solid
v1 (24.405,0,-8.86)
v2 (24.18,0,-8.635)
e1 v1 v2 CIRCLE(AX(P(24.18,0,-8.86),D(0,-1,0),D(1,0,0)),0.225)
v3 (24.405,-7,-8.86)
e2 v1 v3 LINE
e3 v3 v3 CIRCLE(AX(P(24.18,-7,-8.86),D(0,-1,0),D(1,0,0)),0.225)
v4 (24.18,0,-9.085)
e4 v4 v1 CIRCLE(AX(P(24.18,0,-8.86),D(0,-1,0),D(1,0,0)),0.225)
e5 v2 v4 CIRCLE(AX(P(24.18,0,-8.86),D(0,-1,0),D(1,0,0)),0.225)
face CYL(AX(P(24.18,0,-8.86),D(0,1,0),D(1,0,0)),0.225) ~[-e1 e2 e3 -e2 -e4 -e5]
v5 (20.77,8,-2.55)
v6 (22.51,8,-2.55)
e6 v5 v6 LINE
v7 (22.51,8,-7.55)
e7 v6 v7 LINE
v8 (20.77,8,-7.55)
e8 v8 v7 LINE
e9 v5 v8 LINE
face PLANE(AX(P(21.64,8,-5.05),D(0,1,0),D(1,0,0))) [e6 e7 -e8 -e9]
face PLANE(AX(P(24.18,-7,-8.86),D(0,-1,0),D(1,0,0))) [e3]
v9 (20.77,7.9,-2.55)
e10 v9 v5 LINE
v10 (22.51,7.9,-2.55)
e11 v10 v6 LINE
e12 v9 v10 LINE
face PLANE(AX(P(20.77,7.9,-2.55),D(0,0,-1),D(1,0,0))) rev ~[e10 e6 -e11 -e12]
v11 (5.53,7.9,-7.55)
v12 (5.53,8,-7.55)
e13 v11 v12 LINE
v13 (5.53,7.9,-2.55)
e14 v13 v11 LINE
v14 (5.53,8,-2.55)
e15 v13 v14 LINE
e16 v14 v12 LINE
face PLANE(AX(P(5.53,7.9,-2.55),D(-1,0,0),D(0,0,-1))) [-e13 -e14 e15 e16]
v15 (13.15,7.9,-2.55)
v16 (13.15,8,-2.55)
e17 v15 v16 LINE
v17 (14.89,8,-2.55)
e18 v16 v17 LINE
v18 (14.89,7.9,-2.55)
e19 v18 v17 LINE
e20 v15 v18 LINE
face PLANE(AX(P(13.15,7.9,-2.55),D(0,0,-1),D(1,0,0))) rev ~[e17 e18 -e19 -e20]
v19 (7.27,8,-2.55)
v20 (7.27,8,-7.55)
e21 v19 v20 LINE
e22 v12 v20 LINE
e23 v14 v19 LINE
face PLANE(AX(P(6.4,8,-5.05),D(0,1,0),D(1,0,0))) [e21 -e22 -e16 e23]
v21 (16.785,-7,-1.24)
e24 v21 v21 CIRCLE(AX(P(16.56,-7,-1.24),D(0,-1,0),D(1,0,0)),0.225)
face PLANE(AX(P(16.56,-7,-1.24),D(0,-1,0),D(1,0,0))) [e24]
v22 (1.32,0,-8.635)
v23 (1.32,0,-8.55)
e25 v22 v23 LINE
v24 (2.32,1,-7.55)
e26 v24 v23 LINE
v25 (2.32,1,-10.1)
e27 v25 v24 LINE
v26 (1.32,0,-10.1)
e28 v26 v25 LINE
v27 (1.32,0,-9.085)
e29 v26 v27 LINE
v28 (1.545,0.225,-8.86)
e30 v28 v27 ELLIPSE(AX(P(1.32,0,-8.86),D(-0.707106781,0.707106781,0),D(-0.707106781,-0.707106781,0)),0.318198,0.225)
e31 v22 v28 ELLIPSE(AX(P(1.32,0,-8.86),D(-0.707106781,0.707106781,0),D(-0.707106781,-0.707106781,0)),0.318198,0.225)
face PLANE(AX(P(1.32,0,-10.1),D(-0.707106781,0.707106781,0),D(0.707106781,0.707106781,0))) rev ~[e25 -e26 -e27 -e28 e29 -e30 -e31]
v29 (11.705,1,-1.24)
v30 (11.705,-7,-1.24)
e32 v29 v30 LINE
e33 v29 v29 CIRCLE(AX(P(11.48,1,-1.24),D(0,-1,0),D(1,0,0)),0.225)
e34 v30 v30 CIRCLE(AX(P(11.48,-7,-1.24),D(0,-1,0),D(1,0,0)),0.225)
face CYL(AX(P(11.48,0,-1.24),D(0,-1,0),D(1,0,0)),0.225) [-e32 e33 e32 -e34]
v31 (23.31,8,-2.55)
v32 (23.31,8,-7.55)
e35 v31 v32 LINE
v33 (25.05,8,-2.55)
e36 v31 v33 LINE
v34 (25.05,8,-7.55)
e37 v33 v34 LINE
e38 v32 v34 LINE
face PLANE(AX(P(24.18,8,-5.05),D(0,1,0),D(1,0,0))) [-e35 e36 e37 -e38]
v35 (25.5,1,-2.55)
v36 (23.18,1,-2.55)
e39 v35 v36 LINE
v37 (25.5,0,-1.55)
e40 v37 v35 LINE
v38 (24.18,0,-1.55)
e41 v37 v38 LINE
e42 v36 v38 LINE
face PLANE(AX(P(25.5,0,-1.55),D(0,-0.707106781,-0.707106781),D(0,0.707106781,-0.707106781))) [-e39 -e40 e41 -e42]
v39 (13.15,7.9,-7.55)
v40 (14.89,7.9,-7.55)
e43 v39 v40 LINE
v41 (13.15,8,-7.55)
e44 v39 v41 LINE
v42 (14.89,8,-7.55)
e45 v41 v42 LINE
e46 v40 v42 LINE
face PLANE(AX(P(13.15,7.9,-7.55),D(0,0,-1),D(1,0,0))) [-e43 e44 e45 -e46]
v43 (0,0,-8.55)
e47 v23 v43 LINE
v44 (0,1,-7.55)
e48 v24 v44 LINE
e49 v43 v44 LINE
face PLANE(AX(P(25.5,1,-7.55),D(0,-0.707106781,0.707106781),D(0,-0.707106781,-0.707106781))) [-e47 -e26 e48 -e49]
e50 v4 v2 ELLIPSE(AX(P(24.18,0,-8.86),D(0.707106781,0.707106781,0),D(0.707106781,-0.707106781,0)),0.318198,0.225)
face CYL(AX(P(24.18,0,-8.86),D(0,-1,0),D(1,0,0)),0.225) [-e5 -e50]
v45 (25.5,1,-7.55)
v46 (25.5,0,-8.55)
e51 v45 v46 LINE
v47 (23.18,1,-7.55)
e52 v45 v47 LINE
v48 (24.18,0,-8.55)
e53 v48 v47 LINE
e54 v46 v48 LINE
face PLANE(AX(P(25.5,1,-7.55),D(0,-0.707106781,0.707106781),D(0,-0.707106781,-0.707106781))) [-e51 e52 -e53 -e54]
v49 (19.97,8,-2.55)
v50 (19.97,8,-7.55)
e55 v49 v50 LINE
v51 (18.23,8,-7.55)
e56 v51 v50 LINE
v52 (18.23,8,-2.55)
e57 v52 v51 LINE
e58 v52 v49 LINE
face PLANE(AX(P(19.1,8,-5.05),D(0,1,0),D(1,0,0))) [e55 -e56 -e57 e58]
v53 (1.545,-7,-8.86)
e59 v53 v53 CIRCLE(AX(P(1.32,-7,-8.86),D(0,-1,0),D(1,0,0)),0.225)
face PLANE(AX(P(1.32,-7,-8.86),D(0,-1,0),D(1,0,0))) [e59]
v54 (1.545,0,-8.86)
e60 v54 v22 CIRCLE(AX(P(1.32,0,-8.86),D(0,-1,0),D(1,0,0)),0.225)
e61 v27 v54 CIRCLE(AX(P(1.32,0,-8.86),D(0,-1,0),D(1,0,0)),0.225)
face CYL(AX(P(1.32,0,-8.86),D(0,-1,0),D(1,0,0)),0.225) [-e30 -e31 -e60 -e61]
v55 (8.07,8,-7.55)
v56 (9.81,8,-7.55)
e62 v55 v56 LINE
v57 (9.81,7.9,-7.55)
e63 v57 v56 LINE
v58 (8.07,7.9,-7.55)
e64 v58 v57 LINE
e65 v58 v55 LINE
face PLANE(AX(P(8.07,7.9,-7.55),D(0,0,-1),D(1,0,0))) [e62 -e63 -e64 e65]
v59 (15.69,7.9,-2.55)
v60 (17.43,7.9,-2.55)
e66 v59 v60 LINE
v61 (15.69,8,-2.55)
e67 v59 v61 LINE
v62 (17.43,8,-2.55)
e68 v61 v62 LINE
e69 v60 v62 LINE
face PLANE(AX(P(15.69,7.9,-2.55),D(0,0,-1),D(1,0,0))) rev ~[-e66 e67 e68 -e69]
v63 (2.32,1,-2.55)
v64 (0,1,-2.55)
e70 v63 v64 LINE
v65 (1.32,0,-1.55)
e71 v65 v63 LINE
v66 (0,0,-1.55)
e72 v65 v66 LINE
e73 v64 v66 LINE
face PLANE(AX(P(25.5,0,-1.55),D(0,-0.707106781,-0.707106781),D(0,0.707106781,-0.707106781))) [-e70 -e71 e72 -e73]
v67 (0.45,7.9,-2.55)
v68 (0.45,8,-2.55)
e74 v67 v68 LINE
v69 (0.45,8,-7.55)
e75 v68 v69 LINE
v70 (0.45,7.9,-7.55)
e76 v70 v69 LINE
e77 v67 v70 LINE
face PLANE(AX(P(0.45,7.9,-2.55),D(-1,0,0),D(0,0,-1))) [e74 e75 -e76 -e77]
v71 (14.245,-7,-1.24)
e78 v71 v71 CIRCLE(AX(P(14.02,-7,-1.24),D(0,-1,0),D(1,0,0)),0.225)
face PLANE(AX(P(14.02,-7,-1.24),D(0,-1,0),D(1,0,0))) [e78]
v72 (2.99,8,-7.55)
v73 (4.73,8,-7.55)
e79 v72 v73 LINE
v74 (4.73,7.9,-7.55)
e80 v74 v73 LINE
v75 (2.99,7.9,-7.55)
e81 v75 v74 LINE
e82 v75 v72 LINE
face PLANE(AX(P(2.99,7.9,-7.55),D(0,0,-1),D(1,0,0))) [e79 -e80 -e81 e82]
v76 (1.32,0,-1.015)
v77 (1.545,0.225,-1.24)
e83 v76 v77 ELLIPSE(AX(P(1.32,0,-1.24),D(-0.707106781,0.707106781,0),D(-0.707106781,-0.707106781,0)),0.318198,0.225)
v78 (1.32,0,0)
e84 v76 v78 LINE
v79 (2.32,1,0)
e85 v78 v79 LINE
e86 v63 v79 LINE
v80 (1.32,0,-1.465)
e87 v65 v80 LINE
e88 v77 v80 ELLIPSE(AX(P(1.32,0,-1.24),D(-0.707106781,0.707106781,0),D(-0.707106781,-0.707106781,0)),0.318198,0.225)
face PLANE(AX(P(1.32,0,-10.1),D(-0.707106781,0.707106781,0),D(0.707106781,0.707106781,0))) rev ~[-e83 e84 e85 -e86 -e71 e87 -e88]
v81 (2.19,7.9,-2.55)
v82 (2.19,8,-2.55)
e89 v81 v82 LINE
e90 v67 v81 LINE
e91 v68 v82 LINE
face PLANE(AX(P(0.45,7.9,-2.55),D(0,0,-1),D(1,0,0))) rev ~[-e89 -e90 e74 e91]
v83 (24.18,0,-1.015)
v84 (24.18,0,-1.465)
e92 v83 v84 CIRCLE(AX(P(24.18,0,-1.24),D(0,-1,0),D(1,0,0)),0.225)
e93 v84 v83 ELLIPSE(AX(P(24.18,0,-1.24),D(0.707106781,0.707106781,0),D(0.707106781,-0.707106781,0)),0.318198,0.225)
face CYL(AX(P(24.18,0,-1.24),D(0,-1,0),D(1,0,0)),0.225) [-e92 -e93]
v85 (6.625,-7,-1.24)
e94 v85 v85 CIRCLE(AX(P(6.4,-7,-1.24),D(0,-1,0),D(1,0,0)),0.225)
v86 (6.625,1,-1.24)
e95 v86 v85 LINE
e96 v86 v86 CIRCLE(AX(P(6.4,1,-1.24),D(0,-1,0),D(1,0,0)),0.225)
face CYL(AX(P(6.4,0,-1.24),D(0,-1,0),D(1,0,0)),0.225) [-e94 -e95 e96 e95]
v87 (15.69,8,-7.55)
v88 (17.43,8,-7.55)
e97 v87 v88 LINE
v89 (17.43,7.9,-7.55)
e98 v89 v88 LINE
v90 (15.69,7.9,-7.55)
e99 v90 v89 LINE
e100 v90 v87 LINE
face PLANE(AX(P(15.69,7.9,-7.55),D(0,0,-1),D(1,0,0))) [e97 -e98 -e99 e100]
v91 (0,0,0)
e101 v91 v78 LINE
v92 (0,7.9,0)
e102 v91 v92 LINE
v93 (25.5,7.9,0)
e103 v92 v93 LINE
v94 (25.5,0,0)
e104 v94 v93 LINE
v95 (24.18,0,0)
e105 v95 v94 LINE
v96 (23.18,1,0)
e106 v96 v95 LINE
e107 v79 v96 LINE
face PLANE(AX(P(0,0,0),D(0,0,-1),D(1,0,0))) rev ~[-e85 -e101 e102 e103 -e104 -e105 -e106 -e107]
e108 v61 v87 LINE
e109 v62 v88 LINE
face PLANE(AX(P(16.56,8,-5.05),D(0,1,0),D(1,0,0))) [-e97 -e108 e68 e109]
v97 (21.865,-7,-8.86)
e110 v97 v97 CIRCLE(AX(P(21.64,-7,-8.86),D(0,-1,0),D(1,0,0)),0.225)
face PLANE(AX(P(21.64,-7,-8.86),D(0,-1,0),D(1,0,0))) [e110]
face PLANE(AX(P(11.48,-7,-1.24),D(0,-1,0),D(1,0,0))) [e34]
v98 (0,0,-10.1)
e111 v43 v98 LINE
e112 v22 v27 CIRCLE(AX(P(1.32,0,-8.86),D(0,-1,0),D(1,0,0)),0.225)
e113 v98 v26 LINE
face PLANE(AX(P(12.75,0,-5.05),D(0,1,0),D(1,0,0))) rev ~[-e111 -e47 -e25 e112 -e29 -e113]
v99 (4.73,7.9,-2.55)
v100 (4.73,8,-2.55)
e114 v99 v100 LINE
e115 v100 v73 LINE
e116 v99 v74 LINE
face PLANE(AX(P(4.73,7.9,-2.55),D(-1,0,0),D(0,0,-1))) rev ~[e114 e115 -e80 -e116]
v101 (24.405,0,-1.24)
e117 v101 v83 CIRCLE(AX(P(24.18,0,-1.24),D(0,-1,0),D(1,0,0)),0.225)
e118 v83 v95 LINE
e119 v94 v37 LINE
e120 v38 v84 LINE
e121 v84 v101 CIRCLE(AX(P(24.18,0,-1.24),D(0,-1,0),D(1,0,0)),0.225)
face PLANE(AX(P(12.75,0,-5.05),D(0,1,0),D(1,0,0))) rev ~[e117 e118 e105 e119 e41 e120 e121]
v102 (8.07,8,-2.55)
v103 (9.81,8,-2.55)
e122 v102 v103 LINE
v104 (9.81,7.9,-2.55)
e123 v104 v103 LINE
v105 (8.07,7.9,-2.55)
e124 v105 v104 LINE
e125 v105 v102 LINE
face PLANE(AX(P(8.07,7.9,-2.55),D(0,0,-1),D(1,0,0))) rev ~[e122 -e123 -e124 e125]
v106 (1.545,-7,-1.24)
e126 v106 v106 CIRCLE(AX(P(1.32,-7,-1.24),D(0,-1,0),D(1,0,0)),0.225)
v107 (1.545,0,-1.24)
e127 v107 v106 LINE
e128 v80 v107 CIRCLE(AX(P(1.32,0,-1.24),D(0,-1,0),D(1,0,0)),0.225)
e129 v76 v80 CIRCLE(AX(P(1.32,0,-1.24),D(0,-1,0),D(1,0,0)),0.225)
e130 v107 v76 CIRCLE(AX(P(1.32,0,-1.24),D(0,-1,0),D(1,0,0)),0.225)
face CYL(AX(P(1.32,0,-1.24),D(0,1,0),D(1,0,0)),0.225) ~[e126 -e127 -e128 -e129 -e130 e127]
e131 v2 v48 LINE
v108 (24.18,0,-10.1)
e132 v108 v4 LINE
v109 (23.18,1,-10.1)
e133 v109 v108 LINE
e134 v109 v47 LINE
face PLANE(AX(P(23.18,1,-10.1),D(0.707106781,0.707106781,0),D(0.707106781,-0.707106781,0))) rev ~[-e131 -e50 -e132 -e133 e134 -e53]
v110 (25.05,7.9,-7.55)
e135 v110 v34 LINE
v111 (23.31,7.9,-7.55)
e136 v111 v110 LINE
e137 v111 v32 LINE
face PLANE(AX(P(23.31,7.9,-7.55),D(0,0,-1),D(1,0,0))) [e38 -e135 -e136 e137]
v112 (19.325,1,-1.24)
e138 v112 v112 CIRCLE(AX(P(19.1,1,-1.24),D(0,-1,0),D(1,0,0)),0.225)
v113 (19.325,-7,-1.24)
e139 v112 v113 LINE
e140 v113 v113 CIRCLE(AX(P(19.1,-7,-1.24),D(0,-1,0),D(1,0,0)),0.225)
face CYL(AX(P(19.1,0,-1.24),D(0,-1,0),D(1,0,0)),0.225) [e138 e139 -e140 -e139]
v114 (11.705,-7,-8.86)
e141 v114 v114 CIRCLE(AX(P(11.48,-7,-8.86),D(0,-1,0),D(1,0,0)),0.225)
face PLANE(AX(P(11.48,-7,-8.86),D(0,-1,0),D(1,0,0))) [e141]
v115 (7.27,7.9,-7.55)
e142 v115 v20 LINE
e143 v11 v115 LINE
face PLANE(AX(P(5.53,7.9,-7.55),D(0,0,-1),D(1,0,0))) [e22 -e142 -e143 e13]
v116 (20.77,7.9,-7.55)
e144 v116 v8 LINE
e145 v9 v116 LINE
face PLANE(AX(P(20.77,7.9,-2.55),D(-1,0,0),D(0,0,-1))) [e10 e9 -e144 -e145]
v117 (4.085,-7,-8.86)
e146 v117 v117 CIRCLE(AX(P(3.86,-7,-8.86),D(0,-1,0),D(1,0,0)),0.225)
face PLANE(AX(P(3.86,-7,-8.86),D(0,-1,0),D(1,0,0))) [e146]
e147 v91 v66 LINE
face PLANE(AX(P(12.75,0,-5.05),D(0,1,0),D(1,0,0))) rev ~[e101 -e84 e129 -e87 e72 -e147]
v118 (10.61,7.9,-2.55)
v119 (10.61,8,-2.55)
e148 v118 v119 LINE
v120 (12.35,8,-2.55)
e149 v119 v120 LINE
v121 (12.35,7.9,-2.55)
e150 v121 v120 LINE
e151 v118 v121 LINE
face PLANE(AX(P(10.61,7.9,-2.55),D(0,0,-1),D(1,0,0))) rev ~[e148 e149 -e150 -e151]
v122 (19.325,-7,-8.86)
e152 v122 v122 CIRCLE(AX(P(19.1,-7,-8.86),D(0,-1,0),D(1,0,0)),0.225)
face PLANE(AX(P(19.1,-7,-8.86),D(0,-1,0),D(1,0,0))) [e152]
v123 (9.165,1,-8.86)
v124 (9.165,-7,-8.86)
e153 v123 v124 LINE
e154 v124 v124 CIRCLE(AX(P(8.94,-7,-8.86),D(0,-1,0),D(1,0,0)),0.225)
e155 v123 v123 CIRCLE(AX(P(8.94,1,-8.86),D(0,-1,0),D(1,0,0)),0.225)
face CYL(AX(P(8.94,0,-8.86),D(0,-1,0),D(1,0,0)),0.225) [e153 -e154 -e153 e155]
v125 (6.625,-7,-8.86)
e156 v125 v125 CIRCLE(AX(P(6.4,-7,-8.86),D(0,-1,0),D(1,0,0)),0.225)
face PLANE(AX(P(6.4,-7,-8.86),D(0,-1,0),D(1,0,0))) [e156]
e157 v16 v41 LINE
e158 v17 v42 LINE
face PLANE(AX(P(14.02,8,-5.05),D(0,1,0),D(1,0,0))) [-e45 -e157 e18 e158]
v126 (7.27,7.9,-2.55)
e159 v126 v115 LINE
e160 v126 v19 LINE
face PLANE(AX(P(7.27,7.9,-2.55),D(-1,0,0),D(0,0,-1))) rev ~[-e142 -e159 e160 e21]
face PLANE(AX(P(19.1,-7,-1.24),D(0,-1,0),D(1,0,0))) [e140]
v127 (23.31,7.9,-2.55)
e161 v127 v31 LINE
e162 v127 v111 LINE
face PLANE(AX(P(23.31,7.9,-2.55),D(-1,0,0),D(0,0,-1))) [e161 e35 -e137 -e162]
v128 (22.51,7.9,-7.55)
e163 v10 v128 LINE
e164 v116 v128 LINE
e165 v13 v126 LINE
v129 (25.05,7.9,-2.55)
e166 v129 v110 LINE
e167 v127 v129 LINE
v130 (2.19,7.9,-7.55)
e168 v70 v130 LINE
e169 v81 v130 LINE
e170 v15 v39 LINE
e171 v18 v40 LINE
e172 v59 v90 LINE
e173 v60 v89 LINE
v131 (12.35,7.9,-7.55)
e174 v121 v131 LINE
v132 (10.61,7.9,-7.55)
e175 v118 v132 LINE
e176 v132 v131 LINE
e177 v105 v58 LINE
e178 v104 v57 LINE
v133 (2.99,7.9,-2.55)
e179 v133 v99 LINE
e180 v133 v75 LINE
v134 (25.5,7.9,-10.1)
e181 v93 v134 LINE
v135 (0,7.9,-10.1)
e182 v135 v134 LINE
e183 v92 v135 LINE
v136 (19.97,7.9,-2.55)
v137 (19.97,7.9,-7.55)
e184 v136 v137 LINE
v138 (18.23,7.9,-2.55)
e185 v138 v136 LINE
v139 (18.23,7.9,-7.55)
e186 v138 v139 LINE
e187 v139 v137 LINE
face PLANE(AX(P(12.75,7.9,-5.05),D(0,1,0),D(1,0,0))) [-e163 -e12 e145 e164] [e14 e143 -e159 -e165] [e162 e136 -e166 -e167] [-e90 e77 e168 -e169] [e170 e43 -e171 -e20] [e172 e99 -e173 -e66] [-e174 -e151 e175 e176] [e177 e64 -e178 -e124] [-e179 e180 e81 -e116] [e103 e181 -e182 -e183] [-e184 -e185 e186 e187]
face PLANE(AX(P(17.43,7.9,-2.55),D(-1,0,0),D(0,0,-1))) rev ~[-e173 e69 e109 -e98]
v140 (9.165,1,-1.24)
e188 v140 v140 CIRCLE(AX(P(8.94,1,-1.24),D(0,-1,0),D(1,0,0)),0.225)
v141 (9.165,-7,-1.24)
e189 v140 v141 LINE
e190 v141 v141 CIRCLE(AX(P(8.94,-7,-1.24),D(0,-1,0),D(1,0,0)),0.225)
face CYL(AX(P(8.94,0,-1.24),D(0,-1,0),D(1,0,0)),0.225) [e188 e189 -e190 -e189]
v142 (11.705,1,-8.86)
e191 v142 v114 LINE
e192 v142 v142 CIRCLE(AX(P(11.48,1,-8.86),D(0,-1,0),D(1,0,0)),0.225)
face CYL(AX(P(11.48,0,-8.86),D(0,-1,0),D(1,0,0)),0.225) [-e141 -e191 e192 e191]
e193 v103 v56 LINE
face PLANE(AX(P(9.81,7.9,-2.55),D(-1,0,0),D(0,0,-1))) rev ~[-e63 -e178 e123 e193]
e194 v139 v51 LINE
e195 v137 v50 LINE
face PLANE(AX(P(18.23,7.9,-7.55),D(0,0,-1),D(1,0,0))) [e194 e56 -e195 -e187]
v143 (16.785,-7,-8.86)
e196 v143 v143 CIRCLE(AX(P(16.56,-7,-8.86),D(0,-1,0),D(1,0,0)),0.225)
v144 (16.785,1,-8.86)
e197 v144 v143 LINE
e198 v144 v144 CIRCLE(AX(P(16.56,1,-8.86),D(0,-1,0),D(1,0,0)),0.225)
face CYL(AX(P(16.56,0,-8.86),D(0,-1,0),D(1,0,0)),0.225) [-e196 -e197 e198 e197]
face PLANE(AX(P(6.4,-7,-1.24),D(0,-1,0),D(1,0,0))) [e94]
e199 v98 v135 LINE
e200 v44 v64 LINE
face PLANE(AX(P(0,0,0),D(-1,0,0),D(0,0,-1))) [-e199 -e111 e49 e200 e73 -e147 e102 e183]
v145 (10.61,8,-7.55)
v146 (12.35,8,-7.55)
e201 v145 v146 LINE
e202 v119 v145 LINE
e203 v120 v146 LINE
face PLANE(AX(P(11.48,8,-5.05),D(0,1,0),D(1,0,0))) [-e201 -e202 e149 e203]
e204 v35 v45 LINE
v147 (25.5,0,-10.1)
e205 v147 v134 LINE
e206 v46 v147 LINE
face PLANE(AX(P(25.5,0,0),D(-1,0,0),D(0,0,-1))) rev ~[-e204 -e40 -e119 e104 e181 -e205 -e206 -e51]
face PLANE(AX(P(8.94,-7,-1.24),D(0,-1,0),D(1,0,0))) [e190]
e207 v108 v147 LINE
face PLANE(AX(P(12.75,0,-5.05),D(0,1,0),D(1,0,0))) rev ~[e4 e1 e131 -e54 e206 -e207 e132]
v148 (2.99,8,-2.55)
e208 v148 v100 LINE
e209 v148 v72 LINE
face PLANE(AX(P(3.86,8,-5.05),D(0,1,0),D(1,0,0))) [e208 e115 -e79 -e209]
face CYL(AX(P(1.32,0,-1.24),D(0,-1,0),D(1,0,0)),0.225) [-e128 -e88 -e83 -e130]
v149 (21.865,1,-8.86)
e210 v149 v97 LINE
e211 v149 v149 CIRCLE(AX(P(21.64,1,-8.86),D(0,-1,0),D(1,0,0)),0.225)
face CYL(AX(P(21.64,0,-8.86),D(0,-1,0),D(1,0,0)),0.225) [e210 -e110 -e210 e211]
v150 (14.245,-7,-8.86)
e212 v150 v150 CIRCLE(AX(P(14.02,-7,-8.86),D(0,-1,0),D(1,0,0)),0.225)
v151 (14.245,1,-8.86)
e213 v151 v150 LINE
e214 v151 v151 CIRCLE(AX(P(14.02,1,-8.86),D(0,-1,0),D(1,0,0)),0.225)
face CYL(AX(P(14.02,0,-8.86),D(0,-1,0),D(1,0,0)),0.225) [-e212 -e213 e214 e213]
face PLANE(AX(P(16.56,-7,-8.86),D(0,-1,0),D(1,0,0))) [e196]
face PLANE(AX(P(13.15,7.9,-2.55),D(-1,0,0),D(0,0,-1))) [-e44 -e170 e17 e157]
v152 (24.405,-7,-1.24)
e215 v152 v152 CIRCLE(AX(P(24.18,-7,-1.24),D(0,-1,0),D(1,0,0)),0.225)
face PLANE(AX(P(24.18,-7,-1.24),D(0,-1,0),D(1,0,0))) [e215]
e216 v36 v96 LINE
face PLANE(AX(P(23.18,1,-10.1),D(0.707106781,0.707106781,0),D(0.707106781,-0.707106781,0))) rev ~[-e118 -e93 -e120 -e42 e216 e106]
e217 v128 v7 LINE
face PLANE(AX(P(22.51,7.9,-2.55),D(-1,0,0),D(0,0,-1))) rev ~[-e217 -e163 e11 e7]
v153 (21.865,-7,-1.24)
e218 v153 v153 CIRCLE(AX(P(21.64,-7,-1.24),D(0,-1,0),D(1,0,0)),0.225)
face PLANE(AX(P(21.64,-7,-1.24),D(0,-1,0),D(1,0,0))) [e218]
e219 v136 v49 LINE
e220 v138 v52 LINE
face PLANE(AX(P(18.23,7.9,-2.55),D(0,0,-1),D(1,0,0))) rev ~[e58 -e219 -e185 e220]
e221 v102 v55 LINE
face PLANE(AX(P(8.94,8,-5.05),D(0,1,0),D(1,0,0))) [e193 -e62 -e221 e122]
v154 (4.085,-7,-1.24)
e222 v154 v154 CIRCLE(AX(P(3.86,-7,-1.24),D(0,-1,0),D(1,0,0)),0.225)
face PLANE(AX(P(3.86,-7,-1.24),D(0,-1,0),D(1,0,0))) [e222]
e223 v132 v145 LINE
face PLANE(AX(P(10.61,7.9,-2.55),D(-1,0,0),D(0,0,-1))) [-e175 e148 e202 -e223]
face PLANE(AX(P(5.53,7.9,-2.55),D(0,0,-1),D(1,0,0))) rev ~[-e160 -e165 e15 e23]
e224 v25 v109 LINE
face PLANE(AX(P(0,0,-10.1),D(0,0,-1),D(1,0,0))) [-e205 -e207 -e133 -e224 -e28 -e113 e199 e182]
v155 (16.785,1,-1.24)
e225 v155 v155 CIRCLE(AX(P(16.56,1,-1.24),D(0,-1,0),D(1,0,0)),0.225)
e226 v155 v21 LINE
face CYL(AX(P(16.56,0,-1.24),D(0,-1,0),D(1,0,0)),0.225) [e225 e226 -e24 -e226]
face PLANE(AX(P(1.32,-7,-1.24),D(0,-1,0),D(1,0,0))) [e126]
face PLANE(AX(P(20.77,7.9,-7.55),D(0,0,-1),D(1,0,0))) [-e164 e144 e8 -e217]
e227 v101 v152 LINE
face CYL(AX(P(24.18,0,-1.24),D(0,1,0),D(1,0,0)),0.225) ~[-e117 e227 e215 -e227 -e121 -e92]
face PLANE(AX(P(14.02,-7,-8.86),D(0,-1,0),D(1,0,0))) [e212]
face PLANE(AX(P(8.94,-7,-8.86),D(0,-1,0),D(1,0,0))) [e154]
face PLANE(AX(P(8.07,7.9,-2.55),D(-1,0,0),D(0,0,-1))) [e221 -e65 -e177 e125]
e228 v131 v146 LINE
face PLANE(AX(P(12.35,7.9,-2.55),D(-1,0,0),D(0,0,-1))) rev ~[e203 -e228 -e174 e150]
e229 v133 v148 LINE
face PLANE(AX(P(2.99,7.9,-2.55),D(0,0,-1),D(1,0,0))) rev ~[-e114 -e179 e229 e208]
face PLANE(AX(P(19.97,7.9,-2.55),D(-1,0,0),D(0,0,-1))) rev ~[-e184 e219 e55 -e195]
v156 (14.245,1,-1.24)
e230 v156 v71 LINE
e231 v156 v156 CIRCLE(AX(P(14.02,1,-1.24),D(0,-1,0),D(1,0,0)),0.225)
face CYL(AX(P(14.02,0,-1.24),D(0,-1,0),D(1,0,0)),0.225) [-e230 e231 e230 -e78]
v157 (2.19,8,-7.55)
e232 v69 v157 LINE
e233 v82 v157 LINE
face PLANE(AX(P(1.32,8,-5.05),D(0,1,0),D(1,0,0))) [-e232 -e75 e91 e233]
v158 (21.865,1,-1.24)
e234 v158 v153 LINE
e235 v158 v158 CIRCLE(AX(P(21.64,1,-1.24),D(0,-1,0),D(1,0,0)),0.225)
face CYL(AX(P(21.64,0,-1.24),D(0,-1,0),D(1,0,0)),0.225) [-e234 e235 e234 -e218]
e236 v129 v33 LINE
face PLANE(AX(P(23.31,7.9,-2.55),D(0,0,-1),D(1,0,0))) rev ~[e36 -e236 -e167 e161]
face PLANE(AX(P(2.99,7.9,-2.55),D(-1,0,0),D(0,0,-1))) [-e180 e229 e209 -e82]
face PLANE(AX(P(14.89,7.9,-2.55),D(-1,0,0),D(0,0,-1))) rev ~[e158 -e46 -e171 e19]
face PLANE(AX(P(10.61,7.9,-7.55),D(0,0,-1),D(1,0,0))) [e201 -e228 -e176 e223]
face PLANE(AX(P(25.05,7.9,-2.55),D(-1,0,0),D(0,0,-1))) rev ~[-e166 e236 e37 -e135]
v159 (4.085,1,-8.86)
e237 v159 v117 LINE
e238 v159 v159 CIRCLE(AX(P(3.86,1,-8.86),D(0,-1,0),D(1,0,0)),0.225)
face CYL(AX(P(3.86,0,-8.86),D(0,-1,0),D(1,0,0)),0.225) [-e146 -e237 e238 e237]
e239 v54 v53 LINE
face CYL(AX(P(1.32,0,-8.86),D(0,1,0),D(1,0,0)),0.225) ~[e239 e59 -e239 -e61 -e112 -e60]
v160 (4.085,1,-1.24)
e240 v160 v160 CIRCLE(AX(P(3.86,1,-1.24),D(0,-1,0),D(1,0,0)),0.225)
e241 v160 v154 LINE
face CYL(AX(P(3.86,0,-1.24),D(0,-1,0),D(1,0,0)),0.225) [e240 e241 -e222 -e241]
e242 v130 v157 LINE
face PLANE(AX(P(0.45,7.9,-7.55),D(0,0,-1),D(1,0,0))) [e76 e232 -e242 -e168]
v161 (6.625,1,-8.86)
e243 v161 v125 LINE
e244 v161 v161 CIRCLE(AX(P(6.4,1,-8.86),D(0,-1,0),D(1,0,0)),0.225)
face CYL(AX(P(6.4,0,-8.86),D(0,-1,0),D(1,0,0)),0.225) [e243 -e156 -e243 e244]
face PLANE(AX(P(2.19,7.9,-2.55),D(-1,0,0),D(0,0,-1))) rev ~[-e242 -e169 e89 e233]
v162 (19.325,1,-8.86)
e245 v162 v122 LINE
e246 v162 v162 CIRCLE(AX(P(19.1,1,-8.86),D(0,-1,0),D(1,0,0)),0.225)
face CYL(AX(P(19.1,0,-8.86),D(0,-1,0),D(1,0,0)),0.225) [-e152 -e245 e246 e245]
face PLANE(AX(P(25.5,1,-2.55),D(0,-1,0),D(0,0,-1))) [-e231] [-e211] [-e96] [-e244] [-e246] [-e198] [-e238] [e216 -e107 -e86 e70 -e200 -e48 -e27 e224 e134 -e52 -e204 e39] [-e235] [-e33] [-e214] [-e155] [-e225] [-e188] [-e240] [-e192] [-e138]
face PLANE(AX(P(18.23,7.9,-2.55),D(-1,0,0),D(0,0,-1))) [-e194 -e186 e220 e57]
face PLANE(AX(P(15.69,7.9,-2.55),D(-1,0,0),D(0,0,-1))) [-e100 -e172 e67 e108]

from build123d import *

# Parameters (mm, degrees)
CROQUIS2_W                          = 25.5
CROQUIS2_H                          = 10.1
SALIENTE_EXTRUIR2_DEPTH             = 7.9
CORTAR_EXTRUIR1_DEPTH               = 26.5
CROQUIS4_W                          = 1.74
CROQUIS4_H                          = 5
SALIENTE_EXTRUIR3_DEPTH             = 0.1
CORTAR_EXTRUIR2_DEPTH               = 11.1
CROQUIS7_R                          = 0.225
SALIENTE_EXTRUIR4_DEPTH             = 7
SALIENTE_EXTRUIR4_DIRECTION_2_REACH = 10


with BuildPart() as part:
    # Croquis2 → Saliente-Extruir2 (new body)
    with BuildSketch(Plane(origin=(0, 0, 0), x_dir=(1, 0, 0), z_dir=(0, 1, 0))):
        with Locations((12.75, 5.05)):
            Rectangle(CROQUIS2_W, CROQUIS2_H)
    extrude(amount=SALIENTE_EXTRUIR2_DEPTH)

    # Croquis3 → Cortar-Extruir1 (cut, through all)
    with BuildSketch(Plane(origin=(25.5, 0, 0), x_dir=(0, 0, -1), z_dir=(1, 0, 0))):
        Polygon((1.55, 0), (2.55, 1), (7.55, 1), (8.55, 0), align=None)
    extrude(amount=-CORTAR_EXTRUIR1_DEPTH, mode=Mode.SUBTRACT)

    # Croquis4 → Saliente-Extruir3 (add)
    with BuildSketch(Plane(origin=(0, 7.9, 0), x_dir=(1, 0, 0), z_dir=(0, 1, 0))):
        with Locations((1.32, 5.05)):
            Rectangle(CROQUIS4_W, CROQUIS4_H)
        with Locations((3.86, 5.05)):
            Rectangle(CROQUIS4_W, CROQUIS4_H)
        with Locations((6.4, 5.05)):
            Rectangle(CROQUIS4_W, CROQUIS4_H)
        with Locations((8.94, 5.05)):
            Rectangle(CROQUIS4_W, CROQUIS4_H)
        with Locations((11.48, 5.05)):
            Rectangle(CROQUIS4_W, CROQUIS4_H)
        with Locations((14.02, 5.05)):
            Rectangle(CROQUIS4_W, CROQUIS4_H)
        with Locations((16.56, 5.05)):
            Rectangle(CROQUIS4_W, CROQUIS4_H)
        with Locations((19.1, 5.05)):
            Rectangle(CROQUIS4_W, CROQUIS4_H)
        with Locations((21.64, 5.05)):
            Rectangle(CROQUIS4_W, CROQUIS4_H)
        with Locations((24.18, 5.05)):
            Rectangle(CROQUIS4_W, CROQUIS4_H)
    extrude(amount=SALIENTE_EXTRUIR3_DEPTH)

    # Croquis6 → Cortar-Extruir2 (cut, through all)
    with BuildSketch(Plane(origin=(0, 0, -10.1), x_dir=(-1, 0, 0), z_dir=(0, 0, -1))):
        Polygon((-23.18, 1), (-24.18, 0), (-1.32, 0), (-2.32, 1), align=None)
    extrude(amount=-CORTAR_EXTRUIR2_DEPTH, mode=Mode.SUBTRACT)

    # Croquis7 → Saliente-Extruir4 (add)
    with BuildSketch(Plane.XZ):
        with Locations((1.32, -8.86)):
            Circle(CROQUIS7_R)
        with Locations((3.86, -8.86)):
            Circle(CROQUIS7_R)
        with Locations((6.4, -8.86)):
            Circle(CROQUIS7_R)
        with Locations((8.94, -8.86)):
            Circle(CROQUIS7_R)
        with Locations((11.48, -8.86)):
            Circle(CROQUIS7_R)
        with Locations((14.02, -8.86)):
            Circle(CROQUIS7_R)
        with Locations((16.56, -8.86)):
            Circle(CROQUIS7_R)
        with Locations((19.1, -8.86)):
            Circle(CROQUIS7_R)
        with Locations((21.64, -8.86)):
            Circle(CROQUIS7_R)
        with Locations((24.18, -8.86)):
            Circle(CROQUIS7_R)
        with Locations((3.86, -1.24)):
            Circle(CROQUIS7_R)
        with Locations((6.4, -1.24)):
            Circle(CROQUIS7_R)
        with Locations((8.94, -1.24)):
            Circle(CROQUIS7_R)
        with Locations((11.48, -1.24)):
            Circle(CROQUIS7_R)
        with Locations((14.02, -1.24)):
            Circle(CROQUIS7_R)
        with Locations((16.56, -1.24)):
            Circle(CROQUIS7_R)
        with Locations((19.1, -1.24)):
            Circle(CROQUIS7_R)
        with Locations((21.64, -1.24)):
            Circle(CROQUIS7_R)
        with Locations((24.18, -1.24)):
            Circle(CROQUIS7_R)
        with Locations((1.32, -1.24)):
            Circle(CROQUIS7_R)
    extrude(amount=SALIENTE_EXTRUIR4_DEPTH)

    # Croquis7 → Saliente-Extruir4 direction 2 (add, up to next)
    with BuildSketch(Plane.XZ, mode=Mode.PRIVATE) as saliente_extruir4_direction_2_sk1:
        with Locations((1.32, -8.86)):
            Circle(CROQUIS7_R)
    saliente_extruir4_direction_2_tool1 = extrude(saliente_extruir4_direction_2_sk1.sketch, amount=-SALIENTE_EXTRUIR4_DIRECTION_2_REACH, mode=Mode.PRIVATE) - part.part
    add(saliente_extruir4_direction_2_tool1.solids().sort_by_distance((1.32, 0, -8.86))[0])
    # Croquis7 → Saliente-Extruir4 direction 2 (add, up to next)
    with BuildSketch(Plane.XZ, mode=Mode.PRIVATE) as saliente_extruir4_direction_2_sk2:
        with Locations((3.86, -8.86)):
            Circle(CROQUIS7_R)
    saliente_extruir4_direction_2_tool2 = extrude(saliente_extruir4_direction_2_sk2.sketch, amount=-SALIENTE_EXTRUIR4_DIRECTION_2_REACH, mode=Mode.PRIVATE) - part.part
    add(saliente_extruir4_direction_2_tool2.solids().sort_by_distance((3.86, 0, -8.86))[0])
    # Croquis7 → Saliente-Extruir4 direction 2 (add, up to next)
    with BuildSketch(Plane.XZ, mode=Mode.PRIVATE) as saliente_extruir4_direction_2_sk3:
        with Locations((6.4, -8.86)):
            Circle(CROQUIS7_R)
    saliente_extruir4_direction_2_tool3 = extrude(saliente_extruir4_direction_2_sk3.sketch, amount=-SALIENTE_EXTRUIR4_DIRECTION_2_REACH, mode=Mode.PRIVATE) - part.part
    add(saliente_extruir4_direction_2_tool3.solids().sort_by_distance((6.4, 0, -8.86))[0])
    # Croquis7 → Saliente-Extruir4 direction 2 (add, up to next)
    with BuildSketch(Plane.XZ, mode=Mode.PRIVATE) as saliente_extruir4_direction_2_sk4:
        with Locations((8.94, -8.86)):
            Circle(CROQUIS7_R)
    saliente_extruir4_direction_2_tool4 = extrude(saliente_extruir4_direction_2_sk4.sketch, amount=-SALIENTE_EXTRUIR4_DIRECTION_2_REACH, mode=Mode.PRIVATE) - part.part
    add(saliente_extruir4_direction_2_tool4.solids().sort_by_distance((8.94, 0, -8.86))[0])
    # Croquis7 → Saliente-Extruir4 direction 2 (add, up to next)
    with BuildSketch(Plane.XZ, mode=Mode.PRIVATE) as saliente_extruir4_direction_2_sk5:
        with Locations((11.48, -8.86)):
            Circle(CROQUIS7_R)
    saliente_extruir4_direction_2_tool5 = extrude(saliente_extruir4_direction_2_sk5.sketch, amount=-SALIENTE_EXTRUIR4_DIRECTION_2_REACH, mode=Mode.PRIVATE) - part.part
    add(saliente_extruir4_direction_2_tool5.solids().sort_by_distance((11.48, 0, -8.86))[0])
    # Croquis7 → Saliente-Extruir4 direction 2 (add, up to next)
    with BuildSketch(Plane.XZ, mode=Mode.PRIVATE) as saliente_extruir4_direction_2_sk6:
        with Locations((14.02, -8.86)):
            Circle(CROQUIS7_R)
    saliente_extruir4_direction_2_tool6 = extrude(saliente_extruir4_direction_2_sk6.sketch, amount=-SALIENTE_EXTRUIR4_DIRECTION_2_REACH, mode=Mode.PRIVATE) - part.part
    add(saliente_extruir4_direction_2_tool6.solids().sort_by_distance((14.02, 0, -8.86))[0])
    # Croquis7 → Saliente-Extruir4 direction 2 (add, up to next)
    with BuildSketch(Plane.XZ, mode=Mode.PRIVATE) as saliente_extruir4_direction_2_sk7:
        with Locations((16.56, -8.86)):
            Circle(CROQUIS7_R)
    saliente_extruir4_direction_2_tool7 = extrude(saliente_extruir4_direction_2_sk7.sketch, amount=-SALIENTE_EXTRUIR4_DIRECTION_2_REACH, mode=Mode.PRIVATE) - part.part
    add(saliente_extruir4_direction_2_tool7.solids().sort_by_distance((16.56, 0, -8.86))[0])
    # Croquis7 → Saliente-Extruir4 direction 2 (add, up to next)
    with BuildSketch(Plane.XZ, mode=Mode.PRIVATE) as saliente_extruir4_direction_2_sk8:
        with Locations((19.1, -8.86)):
            Circle(CROQUIS7_R)
    saliente_extruir4_direction_2_tool8 = extrude(saliente_extruir4_direction_2_sk8.sketch, amount=-SALIENTE_EXTRUIR4_DIRECTION_2_REACH, mode=Mode.PRIVATE) - part.part
    add(saliente_extruir4_direction_2_tool8.solids().sort_by_distance((19.1, 0, -8.86))[0])
    # Croquis7 → Saliente-Extruir4 direction 2 (add, up to next)
    with BuildSketch(Plane.XZ, mode=Mode.PRIVATE) as saliente_extruir4_direction_2_sk9:
        with Locations((21.64, -8.86)):
            Circle(CROQUIS7_R)
    saliente_extruir4_direction_2_tool9 = extrude(saliente_extruir4_direction_2_sk9.sketch, amount=-SALIENTE_EXTRUIR4_DIRECTION_2_REACH, mode=Mode.PRIVATE) - part.part
    add(saliente_extruir4_direction_2_tool9.solids().sort_by_distance((21.64, 0, -8.86))[0])
    # Croquis7 → Saliente-Extruir4 direction 2 (add, up to next)
    with BuildSketch(Plane.XZ, mode=Mode.PRIVATE) as saliente_extruir4_direction_2_sk10:
        with Locations((24.18, -8.86)):
            Circle(CROQUIS7_R)
    saliente_extruir4_direction_2_tool10 = extrude(saliente_extruir4_direction_2_sk10.sketch, amount=-SALIENTE_EXTRUIR4_DIRECTION_2_REACH, mode=Mode.PRIVATE) - part.part
    add(saliente_extruir4_direction_2_tool10.solids().sort_by_distance((24.18, 0, -8.86))[0])
    # Croquis7 → Saliente-Extruir4 direction 2 (add, up to next)
    with BuildSketch(Plane.XZ, mode=Mode.PRIVATE) as saliente_extruir4_direction_2_sk11:
        with Locations((3.86, -1.24)):
            Circle(CROQUIS7_R)
    saliente_extruir4_direction_2_tool11 = extrude(saliente_extruir4_direction_2_sk11.sketch, amount=-SALIENTE_EXTRUIR4_DIRECTION_2_REACH, mode=Mode.PRIVATE) - part.part
    add(saliente_extruir4_direction_2_tool11.solids().sort_by_distance((3.86, 0, -1.24))[0])
    # Croquis7 → Saliente-Extruir4 direction 2 (add, up to next)
    with BuildSketch(Plane.XZ, mode=Mode.PRIVATE) as saliente_extruir4_direction_2_sk12:
        with Locations((6.4, -1.24)):
            Circle(CROQUIS7_R)
    saliente_extruir4_direction_2_tool12 = extrude(saliente_extruir4_direction_2_sk12.sketch, amount=-SALIENTE_EXTRUIR4_DIRECTION_2_REACH, mode=Mode.PRIVATE) - part.part
    add(saliente_extruir4_direction_2_tool12.solids().sort_by_distance((6.4, 0, -1.24))[0])
    # Croquis7 → Saliente-Extruir4 direction 2 (add, up to next)
    with BuildSketch(Plane.XZ, mode=Mode.PRIVATE) as saliente_extruir4_direction_2_sk13:
        with Locations((8.94, -1.24)):
            Circle(CROQUIS7_R)
    saliente_extruir4_direction_2_tool13 = extrude(saliente_extruir4_direction_2_sk13.sketch, amount=-SALIENTE_EXTRUIR4_DIRECTION_2_REACH, mode=Mode.PRIVATE) - part.part
    add(saliente_extruir4_direction_2_tool13.solids().sort_by_distance((8.94, 0, -1.24))[0])
    # Croquis7 → Saliente-Extruir4 direction 2 (add, up to next)
    with BuildSketch(Plane.XZ, mode=Mode.PRIVATE) as saliente_extruir4_direction_2_sk14:
        with Locations((11.48, -1.24)):
            Circle(CROQUIS7_R)
    saliente_extruir4_direction_2_tool14 = extrude(saliente_extruir4_direction_2_sk14.sketch, amount=-SALIENTE_EXTRUIR4_DIRECTION_2_REACH, mode=Mode.PRIVATE) - part.part
    add(saliente_extruir4_direction_2_tool14.solids().sort_by_distance((11.48, 0, -1.24))[0])
    # Croquis7 → Saliente-Extruir4 direction 2 (add, up to next)
    with BuildSketch(Plane.XZ, mode=Mode.PRIVATE) as saliente_extruir4_direction_2_sk15:
        with Locations((14.02, -1.24)):
            Circle(CROQUIS7_R)
    saliente_extruir4_direction_2_tool15 = extrude(saliente_extruir4_direction_2_sk15.sketch, amount=-SALIENTE_EXTRUIR4_DIRECTION_2_REACH, mode=Mode.PRIVATE) - part.part
    add(saliente_extruir4_direction_2_tool15.solids().sort_by_distance((14.02, 0, -1.24))[0])
    # Croquis7 → Saliente-Extruir4 direction 2 (add, up to next)
    with BuildSketch(Plane.XZ, mode=Mode.PRIVATE) as saliente_extruir4_direction_2_sk16:
        with Locations((16.56, -1.24)):
            Circle(CROQUIS7_R)
    saliente_extruir4_direction_2_tool16 = extrude(saliente_extruir4_direction_2_sk16.sketch, amount=-SALIENTE_EXTRUIR4_DIRECTION_2_REACH, mode=Mode.PRIVATE) - part.part
    add(saliente_extruir4_direction_2_tool16.solids().sort_by_distance((16.56, 0, -1.24))[0])
    # Croquis7 → Saliente-Extruir4 direction 2 (add, up to next)
    with BuildSketch(Plane.XZ, mode=Mode.PRIVATE) as saliente_extruir4_direction_2_sk17:
        with Locations((19.1, -1.24)):
            Circle(CROQUIS7_R)
    saliente_extruir4_direction_2_tool17 = extrude(saliente_extruir4_direction_2_sk17.sketch, amount=-SALIENTE_EXTRUIR4_DIRECTION_2_REACH, mode=Mode.PRIVATE) - part.part
    add(saliente_extruir4_direction_2_tool17.solids().sort_by_distance((19.1, 0, -1.24))[0])
    # Croquis7 → Saliente-Extruir4 direction 2 (add, up to next)
    with BuildSketch(Plane.XZ, mode=Mode.PRIVATE) as saliente_extruir4_direction_2_sk18:
        with Locations((21.64, -1.24)):
            Circle(CROQUIS7_R)
    saliente_extruir4_direction_2_tool18 = extrude(saliente_extruir4_direction_2_sk18.sketch, amount=-SALIENTE_EXTRUIR4_DIRECTION_2_REACH, mode=Mode.PRIVATE) - part.part
    add(saliente_extruir4_direction_2_tool18.solids().sort_by_distance((21.64, 0, -1.24))[0])
    # Croquis7 → Saliente-Extruir4 direction 2 (add, up to next)
    with BuildSketch(Plane.XZ, mode=Mode.PRIVATE) as saliente_extruir4_direction_2_sk19:
        with Locations((24.18, -1.24)):
            Circle(CROQUIS7_R)
    saliente_extruir4_direction_2_tool19 = extrude(saliente_extruir4_direction_2_sk19.sketch, amount=-SALIENTE_EXTRUIR4_DIRECTION_2_REACH, mode=Mode.PRIVATE) - part.part
    add(saliente_extruir4_direction_2_tool19.solids().sort_by_distance((24.18, 0, -1.24))[0])
    # Croquis7 → Saliente-Extruir4 direction 2 (add, up to next)
    with BuildSketch(Plane.XZ, mode=Mode.PRIVATE) as saliente_extruir4_direction_2_sk20:
        with Locations((1.32, -1.24)):
            Circle(CROQUIS7_R)
    saliente_extruir4_direction_2_tool20 = extrude(saliente_extruir4_direction_2_sk20.sketch, amount=-SALIENTE_EXTRUIR4_DIRECTION_2_REACH, mode=Mode.PRIVATE) - part.part
    add(saliente_extruir4_direction_2_tool20.solids().sort_by_distance((1.32, 0, -1.24))[0])


solid = part.part
